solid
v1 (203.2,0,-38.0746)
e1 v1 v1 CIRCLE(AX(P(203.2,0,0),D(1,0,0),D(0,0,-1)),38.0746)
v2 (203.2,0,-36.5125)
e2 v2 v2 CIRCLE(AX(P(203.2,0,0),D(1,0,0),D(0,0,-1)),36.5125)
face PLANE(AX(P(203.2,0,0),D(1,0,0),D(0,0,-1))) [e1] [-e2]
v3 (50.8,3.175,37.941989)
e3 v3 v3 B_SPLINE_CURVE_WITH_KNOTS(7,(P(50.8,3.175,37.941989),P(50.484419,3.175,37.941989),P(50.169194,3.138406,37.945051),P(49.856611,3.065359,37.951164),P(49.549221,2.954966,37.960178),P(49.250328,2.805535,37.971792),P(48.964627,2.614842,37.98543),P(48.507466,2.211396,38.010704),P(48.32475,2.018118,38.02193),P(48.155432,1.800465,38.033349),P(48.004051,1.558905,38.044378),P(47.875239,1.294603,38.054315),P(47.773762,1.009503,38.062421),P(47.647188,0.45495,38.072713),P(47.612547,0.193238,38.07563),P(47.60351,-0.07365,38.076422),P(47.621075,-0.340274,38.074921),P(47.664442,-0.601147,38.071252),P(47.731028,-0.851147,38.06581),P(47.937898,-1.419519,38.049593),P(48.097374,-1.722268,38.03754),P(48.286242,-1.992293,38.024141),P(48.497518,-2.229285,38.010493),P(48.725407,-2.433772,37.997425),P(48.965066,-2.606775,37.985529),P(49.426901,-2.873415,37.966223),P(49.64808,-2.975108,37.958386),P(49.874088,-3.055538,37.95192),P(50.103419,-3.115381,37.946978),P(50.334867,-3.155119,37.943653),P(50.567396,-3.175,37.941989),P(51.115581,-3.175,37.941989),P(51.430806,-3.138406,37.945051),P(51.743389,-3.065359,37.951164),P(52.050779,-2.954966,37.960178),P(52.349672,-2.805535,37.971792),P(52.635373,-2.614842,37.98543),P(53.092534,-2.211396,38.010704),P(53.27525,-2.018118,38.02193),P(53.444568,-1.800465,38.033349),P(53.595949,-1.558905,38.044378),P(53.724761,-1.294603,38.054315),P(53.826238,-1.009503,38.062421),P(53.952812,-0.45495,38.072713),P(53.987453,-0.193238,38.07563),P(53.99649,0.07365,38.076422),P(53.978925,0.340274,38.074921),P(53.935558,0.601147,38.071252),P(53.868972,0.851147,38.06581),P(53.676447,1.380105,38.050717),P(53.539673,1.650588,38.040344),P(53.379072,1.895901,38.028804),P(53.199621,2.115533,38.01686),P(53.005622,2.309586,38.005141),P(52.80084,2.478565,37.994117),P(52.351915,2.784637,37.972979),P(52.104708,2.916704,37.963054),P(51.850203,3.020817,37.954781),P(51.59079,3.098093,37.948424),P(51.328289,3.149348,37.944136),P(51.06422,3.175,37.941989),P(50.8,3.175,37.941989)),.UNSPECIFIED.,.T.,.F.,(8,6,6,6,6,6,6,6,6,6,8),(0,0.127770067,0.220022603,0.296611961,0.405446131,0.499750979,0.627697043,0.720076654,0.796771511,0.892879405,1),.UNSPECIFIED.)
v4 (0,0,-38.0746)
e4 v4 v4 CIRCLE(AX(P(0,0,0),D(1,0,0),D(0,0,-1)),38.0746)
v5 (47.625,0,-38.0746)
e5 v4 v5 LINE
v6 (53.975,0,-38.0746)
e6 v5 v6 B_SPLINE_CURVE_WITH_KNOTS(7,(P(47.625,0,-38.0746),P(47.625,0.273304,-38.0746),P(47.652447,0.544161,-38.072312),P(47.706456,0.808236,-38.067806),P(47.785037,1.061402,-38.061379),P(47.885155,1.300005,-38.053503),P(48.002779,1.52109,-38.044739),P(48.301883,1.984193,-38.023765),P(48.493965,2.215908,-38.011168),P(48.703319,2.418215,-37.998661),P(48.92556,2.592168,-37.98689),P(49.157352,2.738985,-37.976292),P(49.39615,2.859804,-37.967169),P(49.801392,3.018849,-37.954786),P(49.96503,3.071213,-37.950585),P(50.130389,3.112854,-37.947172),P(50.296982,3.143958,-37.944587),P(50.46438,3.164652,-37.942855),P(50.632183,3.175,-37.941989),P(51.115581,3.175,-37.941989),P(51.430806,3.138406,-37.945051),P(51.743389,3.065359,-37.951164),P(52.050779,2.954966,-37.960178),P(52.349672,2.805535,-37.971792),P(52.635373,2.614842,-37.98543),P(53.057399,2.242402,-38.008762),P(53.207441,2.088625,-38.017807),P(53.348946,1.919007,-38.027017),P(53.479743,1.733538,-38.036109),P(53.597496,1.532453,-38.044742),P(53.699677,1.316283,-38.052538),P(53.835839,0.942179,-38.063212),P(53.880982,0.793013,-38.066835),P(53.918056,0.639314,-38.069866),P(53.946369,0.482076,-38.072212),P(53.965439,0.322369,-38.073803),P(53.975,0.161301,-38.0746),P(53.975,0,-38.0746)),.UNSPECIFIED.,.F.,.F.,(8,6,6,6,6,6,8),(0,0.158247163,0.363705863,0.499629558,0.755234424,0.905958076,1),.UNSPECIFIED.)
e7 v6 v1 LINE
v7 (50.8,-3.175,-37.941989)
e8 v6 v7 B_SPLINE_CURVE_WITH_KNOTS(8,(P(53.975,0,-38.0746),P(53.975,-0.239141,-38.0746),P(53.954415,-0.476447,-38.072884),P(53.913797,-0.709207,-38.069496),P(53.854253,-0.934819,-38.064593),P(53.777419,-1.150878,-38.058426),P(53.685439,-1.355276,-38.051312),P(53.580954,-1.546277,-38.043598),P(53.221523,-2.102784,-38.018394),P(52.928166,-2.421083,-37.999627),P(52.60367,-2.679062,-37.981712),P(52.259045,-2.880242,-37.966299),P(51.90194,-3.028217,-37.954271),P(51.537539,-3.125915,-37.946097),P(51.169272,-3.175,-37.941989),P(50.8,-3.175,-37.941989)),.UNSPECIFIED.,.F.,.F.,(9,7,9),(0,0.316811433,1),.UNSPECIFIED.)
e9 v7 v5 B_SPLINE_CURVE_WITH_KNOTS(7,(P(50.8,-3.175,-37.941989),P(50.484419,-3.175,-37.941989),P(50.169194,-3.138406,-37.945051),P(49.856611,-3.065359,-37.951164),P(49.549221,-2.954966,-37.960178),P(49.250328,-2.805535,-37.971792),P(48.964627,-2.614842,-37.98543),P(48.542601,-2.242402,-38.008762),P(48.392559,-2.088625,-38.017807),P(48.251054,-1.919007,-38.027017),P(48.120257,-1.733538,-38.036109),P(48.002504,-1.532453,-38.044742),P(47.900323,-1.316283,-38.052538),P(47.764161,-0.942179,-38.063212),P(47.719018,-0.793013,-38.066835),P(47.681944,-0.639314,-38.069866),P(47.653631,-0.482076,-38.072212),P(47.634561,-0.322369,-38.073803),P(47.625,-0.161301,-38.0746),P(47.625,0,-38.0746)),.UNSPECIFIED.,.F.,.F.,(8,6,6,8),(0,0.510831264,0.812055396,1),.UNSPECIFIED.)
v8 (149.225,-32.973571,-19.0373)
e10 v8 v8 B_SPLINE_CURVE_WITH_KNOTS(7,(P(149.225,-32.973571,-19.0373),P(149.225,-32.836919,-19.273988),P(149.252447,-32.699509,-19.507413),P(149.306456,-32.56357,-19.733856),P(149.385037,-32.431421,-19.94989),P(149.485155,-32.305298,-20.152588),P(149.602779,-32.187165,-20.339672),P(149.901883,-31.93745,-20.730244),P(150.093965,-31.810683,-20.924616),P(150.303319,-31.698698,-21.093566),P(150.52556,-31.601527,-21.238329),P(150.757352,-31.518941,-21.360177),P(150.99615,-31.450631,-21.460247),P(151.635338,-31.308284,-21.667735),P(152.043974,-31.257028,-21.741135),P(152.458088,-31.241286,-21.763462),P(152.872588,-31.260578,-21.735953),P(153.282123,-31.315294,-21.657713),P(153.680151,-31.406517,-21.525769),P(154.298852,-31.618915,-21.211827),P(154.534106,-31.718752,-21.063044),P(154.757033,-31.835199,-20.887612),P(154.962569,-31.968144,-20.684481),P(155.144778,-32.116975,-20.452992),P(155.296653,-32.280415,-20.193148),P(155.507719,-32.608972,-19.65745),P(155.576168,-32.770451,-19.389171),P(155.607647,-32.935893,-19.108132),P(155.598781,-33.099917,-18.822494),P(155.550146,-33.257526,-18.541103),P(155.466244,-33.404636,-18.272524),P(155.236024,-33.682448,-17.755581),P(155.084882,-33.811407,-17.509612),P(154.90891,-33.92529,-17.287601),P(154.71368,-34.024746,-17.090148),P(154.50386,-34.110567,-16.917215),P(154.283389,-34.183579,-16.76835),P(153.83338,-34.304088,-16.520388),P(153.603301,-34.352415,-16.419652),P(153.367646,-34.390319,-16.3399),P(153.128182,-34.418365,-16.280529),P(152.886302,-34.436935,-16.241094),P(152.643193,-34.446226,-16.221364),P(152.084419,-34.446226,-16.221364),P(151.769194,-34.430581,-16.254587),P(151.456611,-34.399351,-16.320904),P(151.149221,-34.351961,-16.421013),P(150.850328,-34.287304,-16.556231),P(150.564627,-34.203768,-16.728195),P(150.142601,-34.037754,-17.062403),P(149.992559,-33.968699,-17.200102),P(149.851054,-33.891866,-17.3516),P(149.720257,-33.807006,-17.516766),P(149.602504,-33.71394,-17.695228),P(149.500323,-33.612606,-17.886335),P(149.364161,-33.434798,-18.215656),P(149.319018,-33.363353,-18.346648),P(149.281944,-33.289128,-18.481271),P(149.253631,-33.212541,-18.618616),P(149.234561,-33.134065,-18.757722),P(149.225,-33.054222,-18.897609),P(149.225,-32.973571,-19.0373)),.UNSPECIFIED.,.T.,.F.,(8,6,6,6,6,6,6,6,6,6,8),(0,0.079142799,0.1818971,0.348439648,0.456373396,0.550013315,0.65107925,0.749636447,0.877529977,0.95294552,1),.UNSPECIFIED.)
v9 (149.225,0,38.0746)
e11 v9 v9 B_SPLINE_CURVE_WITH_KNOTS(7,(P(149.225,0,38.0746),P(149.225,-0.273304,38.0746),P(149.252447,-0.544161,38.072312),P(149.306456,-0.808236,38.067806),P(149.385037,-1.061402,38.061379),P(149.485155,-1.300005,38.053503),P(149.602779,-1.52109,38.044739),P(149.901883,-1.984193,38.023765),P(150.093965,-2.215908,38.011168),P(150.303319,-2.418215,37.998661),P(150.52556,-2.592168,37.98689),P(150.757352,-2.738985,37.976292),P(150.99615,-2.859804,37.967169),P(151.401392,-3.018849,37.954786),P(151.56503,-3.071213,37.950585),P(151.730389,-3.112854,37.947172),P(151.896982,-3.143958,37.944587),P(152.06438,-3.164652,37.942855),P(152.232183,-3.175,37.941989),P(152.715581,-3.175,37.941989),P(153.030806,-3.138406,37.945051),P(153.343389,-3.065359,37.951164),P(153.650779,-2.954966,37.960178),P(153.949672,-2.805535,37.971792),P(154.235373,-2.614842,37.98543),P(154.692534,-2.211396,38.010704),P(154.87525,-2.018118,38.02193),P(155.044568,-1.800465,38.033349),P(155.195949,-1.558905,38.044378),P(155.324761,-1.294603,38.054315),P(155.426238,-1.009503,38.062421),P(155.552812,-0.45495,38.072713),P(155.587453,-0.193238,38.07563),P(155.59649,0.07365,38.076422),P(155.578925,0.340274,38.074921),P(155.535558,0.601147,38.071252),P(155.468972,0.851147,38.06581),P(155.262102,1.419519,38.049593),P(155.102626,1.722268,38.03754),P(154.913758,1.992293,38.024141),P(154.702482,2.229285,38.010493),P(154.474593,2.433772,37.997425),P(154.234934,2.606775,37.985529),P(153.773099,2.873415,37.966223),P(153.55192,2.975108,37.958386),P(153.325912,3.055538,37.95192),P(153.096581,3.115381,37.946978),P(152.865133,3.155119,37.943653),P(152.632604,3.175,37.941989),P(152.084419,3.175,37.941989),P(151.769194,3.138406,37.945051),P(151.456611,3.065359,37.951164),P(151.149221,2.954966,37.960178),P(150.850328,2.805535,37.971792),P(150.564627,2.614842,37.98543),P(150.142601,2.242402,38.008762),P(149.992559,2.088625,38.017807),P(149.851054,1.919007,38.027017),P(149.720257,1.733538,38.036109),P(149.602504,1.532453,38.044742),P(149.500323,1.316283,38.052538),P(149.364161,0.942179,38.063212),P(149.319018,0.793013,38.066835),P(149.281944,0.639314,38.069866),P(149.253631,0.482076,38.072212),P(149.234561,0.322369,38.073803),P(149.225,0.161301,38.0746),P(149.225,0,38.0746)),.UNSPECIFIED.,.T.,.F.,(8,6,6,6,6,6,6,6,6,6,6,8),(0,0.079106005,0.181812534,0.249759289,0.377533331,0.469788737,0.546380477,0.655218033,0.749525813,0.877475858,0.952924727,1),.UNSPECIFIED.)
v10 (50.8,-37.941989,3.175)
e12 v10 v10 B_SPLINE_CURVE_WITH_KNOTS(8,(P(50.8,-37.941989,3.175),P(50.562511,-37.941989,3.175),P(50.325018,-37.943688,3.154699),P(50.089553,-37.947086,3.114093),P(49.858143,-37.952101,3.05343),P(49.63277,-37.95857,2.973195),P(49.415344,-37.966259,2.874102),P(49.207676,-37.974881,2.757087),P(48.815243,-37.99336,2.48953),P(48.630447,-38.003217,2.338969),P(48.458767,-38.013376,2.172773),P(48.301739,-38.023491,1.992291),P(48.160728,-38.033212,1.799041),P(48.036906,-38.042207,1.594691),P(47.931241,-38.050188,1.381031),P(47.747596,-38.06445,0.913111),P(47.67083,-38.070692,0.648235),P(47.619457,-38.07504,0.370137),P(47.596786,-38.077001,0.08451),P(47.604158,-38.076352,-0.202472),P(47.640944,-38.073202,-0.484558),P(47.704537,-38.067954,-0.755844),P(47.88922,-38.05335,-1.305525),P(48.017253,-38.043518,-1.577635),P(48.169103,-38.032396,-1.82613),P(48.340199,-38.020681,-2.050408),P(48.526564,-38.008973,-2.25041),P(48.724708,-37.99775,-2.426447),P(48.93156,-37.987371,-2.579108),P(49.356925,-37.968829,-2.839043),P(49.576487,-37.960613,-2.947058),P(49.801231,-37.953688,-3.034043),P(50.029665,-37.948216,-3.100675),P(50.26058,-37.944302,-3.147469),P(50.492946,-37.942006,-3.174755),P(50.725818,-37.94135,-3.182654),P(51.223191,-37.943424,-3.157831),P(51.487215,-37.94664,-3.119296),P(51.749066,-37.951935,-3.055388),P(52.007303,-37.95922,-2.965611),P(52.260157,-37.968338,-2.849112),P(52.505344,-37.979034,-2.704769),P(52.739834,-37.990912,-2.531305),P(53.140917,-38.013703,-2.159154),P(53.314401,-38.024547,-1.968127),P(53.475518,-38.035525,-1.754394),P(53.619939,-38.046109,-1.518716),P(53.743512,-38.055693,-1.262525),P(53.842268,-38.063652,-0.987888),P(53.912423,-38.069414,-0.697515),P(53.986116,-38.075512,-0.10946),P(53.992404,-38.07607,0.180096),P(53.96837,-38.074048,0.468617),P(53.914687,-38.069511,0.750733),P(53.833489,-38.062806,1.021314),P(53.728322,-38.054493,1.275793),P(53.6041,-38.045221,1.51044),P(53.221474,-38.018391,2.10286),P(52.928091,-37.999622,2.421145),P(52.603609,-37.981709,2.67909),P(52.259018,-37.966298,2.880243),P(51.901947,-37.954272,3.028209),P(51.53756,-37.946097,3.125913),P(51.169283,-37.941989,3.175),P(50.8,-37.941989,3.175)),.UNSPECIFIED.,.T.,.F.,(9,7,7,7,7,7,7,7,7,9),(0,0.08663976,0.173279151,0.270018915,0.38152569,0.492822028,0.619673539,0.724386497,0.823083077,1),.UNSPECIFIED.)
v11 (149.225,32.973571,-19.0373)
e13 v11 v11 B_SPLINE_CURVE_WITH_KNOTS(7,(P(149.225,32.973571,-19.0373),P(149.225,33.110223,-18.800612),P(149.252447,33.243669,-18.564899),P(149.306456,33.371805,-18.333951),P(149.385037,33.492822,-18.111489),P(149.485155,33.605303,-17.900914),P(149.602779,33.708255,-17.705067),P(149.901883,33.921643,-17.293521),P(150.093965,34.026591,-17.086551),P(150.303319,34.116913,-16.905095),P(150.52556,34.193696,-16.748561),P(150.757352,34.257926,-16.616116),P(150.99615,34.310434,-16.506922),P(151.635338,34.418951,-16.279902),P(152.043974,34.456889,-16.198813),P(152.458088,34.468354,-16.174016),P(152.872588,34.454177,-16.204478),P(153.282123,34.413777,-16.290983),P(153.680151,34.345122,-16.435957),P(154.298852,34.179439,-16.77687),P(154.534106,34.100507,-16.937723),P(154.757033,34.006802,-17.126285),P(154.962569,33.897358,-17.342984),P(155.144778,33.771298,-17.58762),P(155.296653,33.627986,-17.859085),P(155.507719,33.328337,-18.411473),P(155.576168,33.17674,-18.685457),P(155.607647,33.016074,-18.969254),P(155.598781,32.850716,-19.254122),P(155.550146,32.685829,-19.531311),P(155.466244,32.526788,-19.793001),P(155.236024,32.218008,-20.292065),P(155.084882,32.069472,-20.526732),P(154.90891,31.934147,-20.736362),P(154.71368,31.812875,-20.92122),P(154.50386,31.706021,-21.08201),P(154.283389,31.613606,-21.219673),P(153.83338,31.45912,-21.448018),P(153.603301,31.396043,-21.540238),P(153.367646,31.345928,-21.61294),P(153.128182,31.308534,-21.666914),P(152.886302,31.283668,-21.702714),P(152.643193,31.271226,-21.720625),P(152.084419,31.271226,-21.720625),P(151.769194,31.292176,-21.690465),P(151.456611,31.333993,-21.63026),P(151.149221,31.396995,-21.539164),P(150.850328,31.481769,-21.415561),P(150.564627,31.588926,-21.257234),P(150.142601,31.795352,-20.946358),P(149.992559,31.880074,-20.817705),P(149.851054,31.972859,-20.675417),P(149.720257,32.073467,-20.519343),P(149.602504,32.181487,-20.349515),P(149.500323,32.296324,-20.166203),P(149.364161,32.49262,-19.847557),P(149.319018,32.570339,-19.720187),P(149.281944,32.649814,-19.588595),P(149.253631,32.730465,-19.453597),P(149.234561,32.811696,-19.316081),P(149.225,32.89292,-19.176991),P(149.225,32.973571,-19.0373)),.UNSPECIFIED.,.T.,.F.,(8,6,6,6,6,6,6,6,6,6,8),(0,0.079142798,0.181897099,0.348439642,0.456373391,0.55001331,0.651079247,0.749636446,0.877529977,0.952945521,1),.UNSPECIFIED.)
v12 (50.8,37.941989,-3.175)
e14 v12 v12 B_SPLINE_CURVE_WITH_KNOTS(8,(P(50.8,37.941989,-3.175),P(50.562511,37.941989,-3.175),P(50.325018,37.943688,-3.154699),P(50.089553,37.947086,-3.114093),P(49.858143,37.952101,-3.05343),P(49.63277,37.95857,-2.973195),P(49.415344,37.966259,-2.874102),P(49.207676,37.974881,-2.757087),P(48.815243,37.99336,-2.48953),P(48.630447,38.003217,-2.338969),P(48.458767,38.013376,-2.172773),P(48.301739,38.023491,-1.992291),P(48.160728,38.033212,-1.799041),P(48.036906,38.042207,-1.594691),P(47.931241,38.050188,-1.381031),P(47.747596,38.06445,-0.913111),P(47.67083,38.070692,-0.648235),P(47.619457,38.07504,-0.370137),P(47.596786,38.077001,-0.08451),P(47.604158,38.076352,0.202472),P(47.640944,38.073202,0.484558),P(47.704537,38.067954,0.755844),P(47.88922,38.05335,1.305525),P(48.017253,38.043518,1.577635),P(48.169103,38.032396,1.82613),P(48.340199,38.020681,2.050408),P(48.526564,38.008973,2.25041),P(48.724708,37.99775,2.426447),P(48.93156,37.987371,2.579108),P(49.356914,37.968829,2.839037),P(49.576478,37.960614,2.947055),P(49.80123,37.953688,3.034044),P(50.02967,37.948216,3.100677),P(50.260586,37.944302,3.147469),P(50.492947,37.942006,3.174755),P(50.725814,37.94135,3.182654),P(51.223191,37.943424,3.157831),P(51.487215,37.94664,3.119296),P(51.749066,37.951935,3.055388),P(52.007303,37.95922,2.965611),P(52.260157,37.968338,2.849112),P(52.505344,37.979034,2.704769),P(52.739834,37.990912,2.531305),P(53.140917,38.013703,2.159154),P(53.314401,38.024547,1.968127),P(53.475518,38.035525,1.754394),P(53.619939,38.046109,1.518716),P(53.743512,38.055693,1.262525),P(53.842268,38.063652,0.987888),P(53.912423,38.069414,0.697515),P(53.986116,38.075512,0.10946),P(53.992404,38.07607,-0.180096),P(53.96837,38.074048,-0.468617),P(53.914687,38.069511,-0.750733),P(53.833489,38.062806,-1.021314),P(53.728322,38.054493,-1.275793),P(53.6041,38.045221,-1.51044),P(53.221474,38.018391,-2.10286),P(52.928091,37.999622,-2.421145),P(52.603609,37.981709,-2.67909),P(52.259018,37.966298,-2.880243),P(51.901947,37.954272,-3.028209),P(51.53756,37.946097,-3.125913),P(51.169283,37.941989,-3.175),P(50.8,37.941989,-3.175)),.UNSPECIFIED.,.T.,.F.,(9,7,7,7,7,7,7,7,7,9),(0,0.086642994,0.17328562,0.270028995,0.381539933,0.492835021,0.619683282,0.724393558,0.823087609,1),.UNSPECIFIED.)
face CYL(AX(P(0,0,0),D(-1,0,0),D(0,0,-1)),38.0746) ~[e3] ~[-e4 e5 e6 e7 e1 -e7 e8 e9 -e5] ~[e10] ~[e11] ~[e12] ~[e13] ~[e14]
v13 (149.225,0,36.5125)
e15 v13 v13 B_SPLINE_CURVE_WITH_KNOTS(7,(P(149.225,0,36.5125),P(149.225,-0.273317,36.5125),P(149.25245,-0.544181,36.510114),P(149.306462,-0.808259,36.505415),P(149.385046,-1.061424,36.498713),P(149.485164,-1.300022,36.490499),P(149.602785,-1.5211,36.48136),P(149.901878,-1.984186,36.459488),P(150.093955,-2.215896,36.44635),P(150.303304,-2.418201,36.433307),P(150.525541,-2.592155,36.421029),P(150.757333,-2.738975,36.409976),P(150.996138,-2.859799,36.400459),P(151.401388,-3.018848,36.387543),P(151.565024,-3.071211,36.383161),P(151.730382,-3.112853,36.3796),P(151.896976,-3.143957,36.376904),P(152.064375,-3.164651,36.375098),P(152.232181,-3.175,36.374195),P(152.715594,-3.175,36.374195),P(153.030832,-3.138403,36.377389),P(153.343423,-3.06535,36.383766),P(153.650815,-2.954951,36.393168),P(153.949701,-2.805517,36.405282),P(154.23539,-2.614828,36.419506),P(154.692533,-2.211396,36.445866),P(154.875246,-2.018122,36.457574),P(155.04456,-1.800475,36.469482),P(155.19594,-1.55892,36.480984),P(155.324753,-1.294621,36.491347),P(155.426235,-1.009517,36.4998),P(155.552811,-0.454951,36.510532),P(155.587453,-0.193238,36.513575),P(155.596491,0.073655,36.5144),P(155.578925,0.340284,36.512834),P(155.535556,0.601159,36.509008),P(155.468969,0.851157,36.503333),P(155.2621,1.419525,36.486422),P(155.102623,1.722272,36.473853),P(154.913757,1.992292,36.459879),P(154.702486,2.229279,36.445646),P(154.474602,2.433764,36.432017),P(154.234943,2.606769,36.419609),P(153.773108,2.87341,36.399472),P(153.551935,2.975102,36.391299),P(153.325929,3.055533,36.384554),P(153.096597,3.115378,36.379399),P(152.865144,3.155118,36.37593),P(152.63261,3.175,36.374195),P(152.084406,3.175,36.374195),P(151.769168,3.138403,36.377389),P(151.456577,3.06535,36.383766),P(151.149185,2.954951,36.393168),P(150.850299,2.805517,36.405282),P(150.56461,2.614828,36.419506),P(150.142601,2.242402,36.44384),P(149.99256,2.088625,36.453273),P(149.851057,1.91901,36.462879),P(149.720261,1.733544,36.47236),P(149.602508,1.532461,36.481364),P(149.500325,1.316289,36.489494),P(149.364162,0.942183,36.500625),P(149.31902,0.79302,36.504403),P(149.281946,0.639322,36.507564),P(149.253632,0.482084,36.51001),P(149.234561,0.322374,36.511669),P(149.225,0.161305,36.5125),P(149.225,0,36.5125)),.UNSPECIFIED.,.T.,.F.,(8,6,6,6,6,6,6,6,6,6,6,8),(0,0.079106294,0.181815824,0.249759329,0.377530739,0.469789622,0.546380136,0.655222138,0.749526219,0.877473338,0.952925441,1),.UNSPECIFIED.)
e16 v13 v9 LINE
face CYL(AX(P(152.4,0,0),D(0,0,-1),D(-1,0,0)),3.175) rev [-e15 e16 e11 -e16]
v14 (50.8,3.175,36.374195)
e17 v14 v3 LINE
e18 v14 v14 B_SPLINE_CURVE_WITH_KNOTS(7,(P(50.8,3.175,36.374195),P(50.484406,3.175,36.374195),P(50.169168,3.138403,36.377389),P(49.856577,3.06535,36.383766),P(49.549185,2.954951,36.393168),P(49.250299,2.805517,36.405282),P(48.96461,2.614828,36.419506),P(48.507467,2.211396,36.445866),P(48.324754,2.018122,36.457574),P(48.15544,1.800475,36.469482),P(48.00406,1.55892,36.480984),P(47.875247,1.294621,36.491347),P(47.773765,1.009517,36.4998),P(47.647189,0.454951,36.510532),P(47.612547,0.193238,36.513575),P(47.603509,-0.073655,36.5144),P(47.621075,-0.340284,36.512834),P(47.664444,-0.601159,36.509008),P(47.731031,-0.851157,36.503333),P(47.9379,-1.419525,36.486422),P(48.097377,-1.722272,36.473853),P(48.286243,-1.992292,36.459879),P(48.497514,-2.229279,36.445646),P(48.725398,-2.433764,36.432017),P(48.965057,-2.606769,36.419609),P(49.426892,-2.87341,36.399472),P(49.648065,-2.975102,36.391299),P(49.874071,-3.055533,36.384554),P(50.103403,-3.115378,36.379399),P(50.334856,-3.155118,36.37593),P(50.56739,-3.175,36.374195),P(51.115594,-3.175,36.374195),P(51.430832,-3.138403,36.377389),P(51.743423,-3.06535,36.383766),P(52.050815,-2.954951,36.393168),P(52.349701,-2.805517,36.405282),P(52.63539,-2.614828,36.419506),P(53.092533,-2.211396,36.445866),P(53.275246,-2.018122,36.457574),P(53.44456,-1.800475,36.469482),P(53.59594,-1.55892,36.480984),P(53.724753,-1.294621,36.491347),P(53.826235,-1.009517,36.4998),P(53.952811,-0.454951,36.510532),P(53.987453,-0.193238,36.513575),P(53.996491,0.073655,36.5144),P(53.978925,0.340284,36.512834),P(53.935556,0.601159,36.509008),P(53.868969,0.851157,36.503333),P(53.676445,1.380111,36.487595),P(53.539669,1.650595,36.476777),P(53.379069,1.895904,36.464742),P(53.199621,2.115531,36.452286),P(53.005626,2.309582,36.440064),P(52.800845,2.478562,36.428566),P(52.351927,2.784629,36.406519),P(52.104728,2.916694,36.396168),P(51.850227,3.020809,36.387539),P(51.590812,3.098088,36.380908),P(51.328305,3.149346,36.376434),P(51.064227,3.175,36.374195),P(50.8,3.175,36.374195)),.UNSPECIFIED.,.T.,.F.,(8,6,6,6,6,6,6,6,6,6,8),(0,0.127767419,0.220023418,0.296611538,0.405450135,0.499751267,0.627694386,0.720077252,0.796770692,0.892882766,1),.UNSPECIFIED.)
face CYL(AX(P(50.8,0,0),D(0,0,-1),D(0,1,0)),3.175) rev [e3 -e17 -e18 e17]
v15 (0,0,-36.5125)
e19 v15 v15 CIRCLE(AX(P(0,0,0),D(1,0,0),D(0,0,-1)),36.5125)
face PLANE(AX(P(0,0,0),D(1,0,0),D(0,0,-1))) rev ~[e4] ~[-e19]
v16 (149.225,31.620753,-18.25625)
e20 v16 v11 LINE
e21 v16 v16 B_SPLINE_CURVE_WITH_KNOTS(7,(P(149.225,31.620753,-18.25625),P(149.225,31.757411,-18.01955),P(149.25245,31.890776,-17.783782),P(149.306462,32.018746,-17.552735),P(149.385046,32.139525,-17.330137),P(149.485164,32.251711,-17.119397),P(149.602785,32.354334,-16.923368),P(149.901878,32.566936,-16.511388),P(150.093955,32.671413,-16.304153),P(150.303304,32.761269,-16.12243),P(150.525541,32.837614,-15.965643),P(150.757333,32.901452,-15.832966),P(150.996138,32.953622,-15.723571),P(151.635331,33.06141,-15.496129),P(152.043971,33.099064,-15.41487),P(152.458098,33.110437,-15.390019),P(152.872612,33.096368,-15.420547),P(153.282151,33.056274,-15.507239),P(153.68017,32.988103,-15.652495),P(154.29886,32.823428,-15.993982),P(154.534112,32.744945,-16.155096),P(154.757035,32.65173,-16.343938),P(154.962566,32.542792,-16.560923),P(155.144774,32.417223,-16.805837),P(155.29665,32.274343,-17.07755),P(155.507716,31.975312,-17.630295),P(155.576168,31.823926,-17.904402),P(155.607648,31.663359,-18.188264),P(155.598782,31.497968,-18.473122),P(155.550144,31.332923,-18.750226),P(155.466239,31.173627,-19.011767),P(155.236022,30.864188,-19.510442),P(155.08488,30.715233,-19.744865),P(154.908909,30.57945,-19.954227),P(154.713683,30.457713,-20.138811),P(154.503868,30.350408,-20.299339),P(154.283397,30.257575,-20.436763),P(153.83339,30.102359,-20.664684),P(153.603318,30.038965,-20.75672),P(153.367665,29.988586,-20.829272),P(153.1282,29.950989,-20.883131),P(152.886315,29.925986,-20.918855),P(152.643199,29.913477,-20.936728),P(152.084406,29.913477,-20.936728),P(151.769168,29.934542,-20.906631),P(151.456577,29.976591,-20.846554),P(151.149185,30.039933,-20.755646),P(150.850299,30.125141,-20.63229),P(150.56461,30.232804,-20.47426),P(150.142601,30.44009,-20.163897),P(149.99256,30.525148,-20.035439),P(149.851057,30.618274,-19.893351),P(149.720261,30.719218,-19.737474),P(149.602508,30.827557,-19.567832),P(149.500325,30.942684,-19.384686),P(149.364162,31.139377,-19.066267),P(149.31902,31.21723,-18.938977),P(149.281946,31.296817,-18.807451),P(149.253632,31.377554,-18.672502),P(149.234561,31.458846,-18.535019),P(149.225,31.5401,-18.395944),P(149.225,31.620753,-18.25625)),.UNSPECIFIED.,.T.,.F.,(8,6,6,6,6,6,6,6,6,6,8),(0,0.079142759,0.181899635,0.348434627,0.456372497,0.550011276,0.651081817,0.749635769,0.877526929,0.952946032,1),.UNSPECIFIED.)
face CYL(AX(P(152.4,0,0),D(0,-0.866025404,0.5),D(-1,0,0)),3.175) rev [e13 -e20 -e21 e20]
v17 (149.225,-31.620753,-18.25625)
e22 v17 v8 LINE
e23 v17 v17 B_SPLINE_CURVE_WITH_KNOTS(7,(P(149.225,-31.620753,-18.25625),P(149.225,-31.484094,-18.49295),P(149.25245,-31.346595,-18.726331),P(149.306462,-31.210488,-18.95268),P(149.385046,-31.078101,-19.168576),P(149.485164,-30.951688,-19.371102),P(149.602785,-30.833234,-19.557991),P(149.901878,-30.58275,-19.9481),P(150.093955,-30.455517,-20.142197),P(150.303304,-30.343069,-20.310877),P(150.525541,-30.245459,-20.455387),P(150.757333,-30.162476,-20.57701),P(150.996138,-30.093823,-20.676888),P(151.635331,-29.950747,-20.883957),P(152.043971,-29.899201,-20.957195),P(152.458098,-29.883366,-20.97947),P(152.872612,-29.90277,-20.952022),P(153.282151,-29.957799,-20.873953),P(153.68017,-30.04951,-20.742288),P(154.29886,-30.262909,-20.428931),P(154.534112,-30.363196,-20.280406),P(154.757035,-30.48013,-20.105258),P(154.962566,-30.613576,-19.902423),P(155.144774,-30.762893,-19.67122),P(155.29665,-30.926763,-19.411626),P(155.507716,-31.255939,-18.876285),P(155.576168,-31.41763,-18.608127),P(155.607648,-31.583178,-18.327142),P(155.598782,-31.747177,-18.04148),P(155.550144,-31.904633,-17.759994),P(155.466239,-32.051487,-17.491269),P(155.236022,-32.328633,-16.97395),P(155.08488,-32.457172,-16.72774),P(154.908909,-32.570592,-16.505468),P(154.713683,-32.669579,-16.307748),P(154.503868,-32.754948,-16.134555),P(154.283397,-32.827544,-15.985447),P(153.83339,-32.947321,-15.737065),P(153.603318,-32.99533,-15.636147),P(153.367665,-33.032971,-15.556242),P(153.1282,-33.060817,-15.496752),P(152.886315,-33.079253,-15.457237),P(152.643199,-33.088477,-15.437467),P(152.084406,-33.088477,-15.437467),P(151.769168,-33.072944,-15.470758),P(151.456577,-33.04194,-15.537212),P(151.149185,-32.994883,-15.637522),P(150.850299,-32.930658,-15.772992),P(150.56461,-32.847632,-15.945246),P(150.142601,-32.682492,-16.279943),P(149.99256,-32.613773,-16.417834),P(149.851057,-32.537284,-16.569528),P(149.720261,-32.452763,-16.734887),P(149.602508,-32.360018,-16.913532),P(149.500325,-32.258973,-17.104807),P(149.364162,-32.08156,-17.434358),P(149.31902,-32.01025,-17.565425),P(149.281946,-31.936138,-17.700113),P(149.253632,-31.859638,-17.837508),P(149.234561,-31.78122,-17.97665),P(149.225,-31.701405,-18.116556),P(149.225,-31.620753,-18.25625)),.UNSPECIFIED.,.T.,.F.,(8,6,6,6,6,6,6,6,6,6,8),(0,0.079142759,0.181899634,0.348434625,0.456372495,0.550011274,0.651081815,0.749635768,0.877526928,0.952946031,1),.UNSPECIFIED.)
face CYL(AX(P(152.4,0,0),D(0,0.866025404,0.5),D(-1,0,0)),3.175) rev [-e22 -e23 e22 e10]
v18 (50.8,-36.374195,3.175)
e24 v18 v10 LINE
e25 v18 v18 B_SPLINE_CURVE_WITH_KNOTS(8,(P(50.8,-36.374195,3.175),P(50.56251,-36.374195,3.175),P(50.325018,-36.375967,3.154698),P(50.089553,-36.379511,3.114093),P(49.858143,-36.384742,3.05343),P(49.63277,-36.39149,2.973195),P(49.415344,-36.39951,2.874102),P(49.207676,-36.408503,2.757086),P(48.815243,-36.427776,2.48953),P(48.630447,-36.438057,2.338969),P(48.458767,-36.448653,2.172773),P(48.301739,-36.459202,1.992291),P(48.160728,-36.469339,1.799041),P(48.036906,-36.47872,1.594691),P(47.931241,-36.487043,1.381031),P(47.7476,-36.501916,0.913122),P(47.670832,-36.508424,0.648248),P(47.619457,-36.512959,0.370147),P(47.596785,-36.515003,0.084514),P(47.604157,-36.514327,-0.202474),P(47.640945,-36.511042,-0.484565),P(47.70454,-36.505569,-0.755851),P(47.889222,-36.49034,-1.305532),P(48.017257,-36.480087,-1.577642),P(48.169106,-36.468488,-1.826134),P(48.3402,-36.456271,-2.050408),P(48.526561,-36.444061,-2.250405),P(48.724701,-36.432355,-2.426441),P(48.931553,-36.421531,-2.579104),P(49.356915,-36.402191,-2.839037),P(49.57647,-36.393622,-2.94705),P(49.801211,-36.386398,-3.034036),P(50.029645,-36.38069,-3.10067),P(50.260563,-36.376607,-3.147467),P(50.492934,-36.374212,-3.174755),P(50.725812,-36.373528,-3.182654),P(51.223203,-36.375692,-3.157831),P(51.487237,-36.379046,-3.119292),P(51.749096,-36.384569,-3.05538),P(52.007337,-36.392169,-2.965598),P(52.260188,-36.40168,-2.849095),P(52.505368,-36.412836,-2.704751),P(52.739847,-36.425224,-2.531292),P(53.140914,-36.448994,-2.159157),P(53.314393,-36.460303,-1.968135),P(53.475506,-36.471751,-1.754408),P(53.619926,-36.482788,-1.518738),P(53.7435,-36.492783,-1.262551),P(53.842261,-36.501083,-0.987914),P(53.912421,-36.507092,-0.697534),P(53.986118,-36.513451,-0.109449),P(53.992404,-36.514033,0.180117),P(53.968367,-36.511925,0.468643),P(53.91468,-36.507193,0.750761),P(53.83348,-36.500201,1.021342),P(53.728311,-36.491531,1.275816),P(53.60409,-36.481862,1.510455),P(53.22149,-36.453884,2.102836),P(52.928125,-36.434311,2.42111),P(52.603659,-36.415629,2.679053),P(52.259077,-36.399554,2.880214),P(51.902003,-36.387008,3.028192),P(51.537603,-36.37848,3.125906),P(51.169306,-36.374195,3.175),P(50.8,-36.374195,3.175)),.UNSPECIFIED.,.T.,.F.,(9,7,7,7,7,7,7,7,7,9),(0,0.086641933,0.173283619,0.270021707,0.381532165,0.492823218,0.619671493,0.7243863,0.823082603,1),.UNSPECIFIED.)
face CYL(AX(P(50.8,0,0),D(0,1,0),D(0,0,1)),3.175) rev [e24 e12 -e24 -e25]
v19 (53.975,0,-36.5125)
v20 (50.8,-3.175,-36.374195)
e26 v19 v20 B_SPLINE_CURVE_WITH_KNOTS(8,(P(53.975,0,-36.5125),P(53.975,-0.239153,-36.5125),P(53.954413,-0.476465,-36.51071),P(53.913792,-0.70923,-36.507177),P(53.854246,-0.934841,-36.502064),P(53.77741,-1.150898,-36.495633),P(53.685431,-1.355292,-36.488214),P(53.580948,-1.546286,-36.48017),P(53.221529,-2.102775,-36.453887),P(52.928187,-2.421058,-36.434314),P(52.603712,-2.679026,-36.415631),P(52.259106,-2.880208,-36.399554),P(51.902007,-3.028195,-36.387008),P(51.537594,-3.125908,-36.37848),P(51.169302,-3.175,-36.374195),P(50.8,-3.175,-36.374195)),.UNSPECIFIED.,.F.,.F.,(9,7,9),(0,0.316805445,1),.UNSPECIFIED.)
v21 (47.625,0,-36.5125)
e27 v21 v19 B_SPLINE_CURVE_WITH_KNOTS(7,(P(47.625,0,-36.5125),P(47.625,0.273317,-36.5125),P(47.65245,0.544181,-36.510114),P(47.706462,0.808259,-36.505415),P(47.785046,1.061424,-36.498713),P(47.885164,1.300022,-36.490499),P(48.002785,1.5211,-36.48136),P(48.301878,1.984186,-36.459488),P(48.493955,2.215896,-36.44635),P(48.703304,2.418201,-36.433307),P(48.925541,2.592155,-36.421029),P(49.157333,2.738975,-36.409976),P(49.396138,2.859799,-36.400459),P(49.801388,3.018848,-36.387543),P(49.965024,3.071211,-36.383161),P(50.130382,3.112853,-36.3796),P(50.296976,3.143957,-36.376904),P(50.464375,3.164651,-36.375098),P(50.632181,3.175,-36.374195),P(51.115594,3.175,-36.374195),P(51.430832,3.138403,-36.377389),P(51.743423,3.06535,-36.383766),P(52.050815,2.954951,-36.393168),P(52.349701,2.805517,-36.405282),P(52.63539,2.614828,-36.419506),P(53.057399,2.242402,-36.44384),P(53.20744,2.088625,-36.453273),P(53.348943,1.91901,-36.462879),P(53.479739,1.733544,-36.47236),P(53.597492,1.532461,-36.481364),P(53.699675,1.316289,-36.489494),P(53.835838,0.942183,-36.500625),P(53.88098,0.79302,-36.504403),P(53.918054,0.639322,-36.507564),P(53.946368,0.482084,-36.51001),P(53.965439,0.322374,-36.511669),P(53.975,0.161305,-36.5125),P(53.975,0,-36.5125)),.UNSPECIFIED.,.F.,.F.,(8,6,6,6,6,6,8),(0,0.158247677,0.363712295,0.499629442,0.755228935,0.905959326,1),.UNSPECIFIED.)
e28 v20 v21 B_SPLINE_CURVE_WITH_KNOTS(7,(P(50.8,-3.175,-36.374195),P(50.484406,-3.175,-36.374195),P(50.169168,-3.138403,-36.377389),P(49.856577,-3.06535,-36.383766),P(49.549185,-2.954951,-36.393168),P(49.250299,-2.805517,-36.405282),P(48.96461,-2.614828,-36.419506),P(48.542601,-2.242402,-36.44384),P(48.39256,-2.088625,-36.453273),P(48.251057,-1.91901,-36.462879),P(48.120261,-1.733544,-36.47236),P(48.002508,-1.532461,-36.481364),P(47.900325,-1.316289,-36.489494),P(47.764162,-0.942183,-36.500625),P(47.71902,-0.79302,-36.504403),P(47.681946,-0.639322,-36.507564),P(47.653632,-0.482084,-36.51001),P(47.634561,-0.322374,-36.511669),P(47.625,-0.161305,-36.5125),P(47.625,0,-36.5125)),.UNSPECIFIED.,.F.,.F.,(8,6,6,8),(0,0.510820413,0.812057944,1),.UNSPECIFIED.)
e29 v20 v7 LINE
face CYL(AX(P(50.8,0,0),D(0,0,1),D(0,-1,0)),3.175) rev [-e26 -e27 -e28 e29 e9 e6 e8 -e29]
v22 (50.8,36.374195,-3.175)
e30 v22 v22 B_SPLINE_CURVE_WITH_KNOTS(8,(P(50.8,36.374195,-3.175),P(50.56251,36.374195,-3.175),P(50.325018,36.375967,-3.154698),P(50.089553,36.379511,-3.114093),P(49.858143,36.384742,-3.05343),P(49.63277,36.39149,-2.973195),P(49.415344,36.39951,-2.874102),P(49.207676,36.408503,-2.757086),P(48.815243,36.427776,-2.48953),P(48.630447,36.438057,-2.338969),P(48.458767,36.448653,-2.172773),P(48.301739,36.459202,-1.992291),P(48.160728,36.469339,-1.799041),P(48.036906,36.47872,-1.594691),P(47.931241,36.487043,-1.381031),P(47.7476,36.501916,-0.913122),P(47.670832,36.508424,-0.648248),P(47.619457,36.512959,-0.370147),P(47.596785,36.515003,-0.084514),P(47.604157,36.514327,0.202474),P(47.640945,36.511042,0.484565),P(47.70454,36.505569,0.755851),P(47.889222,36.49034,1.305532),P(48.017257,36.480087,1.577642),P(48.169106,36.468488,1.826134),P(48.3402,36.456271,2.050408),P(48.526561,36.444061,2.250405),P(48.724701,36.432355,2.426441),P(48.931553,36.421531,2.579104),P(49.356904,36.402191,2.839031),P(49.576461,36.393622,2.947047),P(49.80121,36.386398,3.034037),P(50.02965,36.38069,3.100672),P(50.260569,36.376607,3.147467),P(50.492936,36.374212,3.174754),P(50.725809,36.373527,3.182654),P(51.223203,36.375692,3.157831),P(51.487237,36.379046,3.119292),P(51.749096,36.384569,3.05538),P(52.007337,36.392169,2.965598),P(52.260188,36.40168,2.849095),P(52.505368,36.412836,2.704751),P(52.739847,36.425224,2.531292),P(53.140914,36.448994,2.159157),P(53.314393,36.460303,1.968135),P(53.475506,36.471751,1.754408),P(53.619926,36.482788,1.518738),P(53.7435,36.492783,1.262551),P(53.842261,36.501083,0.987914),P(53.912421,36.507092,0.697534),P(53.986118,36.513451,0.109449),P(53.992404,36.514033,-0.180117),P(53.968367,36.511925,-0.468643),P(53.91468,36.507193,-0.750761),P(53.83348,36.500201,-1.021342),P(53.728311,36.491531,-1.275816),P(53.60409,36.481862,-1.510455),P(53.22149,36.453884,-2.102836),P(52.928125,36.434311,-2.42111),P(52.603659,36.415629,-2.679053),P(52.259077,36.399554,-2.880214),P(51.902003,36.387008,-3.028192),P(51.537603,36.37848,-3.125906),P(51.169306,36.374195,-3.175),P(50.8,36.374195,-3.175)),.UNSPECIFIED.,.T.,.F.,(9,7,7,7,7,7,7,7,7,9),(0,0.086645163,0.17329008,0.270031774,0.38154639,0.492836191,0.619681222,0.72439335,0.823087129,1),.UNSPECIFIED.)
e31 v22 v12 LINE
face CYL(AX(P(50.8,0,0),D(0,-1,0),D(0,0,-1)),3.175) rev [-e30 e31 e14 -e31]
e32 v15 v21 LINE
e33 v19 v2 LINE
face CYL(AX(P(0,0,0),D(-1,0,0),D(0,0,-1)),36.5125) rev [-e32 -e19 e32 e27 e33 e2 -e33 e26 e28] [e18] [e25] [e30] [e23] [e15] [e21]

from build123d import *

# Parameters (mm, degrees)
SKETCH1_R           = 38.0746
SKETCH1_R_2         = 36.5125
BOSS_EXTRUDE1_DEPTH = 203.2
SKETCH2_R           = 3.175
CUT_EXTRUDE1_DEPTH  = 211.213202084
CIRPATTERN1_COUNT   = 4
SKETCH3_R           = 3.175
CUT_EXTRUDE2_DEPTH  = 297.323244266
CIRPATTERN2_COUNT   = 3


with BuildPart() as part:
    # Sketch1 → Boss-Extrude1 (new body)
    with BuildSketch(Plane.YZ):
        with Locations(Location((0, 0, 0), (0, 0, 270))):
            Circle(SKETCH1_R)
        with Locations(Location((0, 0, 0), (0, 0, 270))):
            Circle(SKETCH1_R_2, mode=Mode.SUBTRACT)
    extrude(amount=BOSS_EXTRUDE1_DEPTH)

    # Sketch2 → Cut-Extrude1 (cut, through all)
    with BuildSketch(Plane(origin=(0, 0, 0), x_dir=(-1, 0, 0), z_dir=(0, 1, 0))):
        with Locations(Location((-50.8, 0, 0), (0, 0, 270))):
            Circle(SKETCH2_R)
    cut_extrude1 = extrude(amount=CUT_EXTRUDE1_DEPTH, mode=Mode.SUBTRACT)

    # CirPattern1: Cut-Extrude1 ×4 about axis
    cirpattern1_axis = Axis((203.2, 0, 0), (-1, 0, 0))
    for i in range(1, CIRPATTERN1_COUNT):
        add(cut_extrude1.rotate(cirpattern1_axis, i * 360 / CIRPATTERN1_COUNT), mode=Mode.SUBTRACT)

    # Sketch3 → Cut-Extrude2 (cut, through all)
    with BuildSketch(Plane(origin=(0, 174.216591142, 0), x_dir=(-1, 0, 0), z_dir=(0, 0, 1))):
        with Locations((-152.4, 174.216591142)):
            Circle(SKETCH3_R)
    cut_extrude2 = extrude(amount=CUT_EXTRUDE2_DEPTH, mode=Mode.SUBTRACT)

    # CirPattern2: Cut-Extrude2 ×3 about axis
    cirpattern2_axis = Axis((203.2, 0, 0), (-1, 0, 0))
    for i in range(1, CIRPATTERN2_COUNT):
        add(cut_extrude2.rotate(cirpattern2_axis, i * 360 / CIRPATTERN2_COUNT), mode=Mode.SUBTRACT)


solid = part.part
